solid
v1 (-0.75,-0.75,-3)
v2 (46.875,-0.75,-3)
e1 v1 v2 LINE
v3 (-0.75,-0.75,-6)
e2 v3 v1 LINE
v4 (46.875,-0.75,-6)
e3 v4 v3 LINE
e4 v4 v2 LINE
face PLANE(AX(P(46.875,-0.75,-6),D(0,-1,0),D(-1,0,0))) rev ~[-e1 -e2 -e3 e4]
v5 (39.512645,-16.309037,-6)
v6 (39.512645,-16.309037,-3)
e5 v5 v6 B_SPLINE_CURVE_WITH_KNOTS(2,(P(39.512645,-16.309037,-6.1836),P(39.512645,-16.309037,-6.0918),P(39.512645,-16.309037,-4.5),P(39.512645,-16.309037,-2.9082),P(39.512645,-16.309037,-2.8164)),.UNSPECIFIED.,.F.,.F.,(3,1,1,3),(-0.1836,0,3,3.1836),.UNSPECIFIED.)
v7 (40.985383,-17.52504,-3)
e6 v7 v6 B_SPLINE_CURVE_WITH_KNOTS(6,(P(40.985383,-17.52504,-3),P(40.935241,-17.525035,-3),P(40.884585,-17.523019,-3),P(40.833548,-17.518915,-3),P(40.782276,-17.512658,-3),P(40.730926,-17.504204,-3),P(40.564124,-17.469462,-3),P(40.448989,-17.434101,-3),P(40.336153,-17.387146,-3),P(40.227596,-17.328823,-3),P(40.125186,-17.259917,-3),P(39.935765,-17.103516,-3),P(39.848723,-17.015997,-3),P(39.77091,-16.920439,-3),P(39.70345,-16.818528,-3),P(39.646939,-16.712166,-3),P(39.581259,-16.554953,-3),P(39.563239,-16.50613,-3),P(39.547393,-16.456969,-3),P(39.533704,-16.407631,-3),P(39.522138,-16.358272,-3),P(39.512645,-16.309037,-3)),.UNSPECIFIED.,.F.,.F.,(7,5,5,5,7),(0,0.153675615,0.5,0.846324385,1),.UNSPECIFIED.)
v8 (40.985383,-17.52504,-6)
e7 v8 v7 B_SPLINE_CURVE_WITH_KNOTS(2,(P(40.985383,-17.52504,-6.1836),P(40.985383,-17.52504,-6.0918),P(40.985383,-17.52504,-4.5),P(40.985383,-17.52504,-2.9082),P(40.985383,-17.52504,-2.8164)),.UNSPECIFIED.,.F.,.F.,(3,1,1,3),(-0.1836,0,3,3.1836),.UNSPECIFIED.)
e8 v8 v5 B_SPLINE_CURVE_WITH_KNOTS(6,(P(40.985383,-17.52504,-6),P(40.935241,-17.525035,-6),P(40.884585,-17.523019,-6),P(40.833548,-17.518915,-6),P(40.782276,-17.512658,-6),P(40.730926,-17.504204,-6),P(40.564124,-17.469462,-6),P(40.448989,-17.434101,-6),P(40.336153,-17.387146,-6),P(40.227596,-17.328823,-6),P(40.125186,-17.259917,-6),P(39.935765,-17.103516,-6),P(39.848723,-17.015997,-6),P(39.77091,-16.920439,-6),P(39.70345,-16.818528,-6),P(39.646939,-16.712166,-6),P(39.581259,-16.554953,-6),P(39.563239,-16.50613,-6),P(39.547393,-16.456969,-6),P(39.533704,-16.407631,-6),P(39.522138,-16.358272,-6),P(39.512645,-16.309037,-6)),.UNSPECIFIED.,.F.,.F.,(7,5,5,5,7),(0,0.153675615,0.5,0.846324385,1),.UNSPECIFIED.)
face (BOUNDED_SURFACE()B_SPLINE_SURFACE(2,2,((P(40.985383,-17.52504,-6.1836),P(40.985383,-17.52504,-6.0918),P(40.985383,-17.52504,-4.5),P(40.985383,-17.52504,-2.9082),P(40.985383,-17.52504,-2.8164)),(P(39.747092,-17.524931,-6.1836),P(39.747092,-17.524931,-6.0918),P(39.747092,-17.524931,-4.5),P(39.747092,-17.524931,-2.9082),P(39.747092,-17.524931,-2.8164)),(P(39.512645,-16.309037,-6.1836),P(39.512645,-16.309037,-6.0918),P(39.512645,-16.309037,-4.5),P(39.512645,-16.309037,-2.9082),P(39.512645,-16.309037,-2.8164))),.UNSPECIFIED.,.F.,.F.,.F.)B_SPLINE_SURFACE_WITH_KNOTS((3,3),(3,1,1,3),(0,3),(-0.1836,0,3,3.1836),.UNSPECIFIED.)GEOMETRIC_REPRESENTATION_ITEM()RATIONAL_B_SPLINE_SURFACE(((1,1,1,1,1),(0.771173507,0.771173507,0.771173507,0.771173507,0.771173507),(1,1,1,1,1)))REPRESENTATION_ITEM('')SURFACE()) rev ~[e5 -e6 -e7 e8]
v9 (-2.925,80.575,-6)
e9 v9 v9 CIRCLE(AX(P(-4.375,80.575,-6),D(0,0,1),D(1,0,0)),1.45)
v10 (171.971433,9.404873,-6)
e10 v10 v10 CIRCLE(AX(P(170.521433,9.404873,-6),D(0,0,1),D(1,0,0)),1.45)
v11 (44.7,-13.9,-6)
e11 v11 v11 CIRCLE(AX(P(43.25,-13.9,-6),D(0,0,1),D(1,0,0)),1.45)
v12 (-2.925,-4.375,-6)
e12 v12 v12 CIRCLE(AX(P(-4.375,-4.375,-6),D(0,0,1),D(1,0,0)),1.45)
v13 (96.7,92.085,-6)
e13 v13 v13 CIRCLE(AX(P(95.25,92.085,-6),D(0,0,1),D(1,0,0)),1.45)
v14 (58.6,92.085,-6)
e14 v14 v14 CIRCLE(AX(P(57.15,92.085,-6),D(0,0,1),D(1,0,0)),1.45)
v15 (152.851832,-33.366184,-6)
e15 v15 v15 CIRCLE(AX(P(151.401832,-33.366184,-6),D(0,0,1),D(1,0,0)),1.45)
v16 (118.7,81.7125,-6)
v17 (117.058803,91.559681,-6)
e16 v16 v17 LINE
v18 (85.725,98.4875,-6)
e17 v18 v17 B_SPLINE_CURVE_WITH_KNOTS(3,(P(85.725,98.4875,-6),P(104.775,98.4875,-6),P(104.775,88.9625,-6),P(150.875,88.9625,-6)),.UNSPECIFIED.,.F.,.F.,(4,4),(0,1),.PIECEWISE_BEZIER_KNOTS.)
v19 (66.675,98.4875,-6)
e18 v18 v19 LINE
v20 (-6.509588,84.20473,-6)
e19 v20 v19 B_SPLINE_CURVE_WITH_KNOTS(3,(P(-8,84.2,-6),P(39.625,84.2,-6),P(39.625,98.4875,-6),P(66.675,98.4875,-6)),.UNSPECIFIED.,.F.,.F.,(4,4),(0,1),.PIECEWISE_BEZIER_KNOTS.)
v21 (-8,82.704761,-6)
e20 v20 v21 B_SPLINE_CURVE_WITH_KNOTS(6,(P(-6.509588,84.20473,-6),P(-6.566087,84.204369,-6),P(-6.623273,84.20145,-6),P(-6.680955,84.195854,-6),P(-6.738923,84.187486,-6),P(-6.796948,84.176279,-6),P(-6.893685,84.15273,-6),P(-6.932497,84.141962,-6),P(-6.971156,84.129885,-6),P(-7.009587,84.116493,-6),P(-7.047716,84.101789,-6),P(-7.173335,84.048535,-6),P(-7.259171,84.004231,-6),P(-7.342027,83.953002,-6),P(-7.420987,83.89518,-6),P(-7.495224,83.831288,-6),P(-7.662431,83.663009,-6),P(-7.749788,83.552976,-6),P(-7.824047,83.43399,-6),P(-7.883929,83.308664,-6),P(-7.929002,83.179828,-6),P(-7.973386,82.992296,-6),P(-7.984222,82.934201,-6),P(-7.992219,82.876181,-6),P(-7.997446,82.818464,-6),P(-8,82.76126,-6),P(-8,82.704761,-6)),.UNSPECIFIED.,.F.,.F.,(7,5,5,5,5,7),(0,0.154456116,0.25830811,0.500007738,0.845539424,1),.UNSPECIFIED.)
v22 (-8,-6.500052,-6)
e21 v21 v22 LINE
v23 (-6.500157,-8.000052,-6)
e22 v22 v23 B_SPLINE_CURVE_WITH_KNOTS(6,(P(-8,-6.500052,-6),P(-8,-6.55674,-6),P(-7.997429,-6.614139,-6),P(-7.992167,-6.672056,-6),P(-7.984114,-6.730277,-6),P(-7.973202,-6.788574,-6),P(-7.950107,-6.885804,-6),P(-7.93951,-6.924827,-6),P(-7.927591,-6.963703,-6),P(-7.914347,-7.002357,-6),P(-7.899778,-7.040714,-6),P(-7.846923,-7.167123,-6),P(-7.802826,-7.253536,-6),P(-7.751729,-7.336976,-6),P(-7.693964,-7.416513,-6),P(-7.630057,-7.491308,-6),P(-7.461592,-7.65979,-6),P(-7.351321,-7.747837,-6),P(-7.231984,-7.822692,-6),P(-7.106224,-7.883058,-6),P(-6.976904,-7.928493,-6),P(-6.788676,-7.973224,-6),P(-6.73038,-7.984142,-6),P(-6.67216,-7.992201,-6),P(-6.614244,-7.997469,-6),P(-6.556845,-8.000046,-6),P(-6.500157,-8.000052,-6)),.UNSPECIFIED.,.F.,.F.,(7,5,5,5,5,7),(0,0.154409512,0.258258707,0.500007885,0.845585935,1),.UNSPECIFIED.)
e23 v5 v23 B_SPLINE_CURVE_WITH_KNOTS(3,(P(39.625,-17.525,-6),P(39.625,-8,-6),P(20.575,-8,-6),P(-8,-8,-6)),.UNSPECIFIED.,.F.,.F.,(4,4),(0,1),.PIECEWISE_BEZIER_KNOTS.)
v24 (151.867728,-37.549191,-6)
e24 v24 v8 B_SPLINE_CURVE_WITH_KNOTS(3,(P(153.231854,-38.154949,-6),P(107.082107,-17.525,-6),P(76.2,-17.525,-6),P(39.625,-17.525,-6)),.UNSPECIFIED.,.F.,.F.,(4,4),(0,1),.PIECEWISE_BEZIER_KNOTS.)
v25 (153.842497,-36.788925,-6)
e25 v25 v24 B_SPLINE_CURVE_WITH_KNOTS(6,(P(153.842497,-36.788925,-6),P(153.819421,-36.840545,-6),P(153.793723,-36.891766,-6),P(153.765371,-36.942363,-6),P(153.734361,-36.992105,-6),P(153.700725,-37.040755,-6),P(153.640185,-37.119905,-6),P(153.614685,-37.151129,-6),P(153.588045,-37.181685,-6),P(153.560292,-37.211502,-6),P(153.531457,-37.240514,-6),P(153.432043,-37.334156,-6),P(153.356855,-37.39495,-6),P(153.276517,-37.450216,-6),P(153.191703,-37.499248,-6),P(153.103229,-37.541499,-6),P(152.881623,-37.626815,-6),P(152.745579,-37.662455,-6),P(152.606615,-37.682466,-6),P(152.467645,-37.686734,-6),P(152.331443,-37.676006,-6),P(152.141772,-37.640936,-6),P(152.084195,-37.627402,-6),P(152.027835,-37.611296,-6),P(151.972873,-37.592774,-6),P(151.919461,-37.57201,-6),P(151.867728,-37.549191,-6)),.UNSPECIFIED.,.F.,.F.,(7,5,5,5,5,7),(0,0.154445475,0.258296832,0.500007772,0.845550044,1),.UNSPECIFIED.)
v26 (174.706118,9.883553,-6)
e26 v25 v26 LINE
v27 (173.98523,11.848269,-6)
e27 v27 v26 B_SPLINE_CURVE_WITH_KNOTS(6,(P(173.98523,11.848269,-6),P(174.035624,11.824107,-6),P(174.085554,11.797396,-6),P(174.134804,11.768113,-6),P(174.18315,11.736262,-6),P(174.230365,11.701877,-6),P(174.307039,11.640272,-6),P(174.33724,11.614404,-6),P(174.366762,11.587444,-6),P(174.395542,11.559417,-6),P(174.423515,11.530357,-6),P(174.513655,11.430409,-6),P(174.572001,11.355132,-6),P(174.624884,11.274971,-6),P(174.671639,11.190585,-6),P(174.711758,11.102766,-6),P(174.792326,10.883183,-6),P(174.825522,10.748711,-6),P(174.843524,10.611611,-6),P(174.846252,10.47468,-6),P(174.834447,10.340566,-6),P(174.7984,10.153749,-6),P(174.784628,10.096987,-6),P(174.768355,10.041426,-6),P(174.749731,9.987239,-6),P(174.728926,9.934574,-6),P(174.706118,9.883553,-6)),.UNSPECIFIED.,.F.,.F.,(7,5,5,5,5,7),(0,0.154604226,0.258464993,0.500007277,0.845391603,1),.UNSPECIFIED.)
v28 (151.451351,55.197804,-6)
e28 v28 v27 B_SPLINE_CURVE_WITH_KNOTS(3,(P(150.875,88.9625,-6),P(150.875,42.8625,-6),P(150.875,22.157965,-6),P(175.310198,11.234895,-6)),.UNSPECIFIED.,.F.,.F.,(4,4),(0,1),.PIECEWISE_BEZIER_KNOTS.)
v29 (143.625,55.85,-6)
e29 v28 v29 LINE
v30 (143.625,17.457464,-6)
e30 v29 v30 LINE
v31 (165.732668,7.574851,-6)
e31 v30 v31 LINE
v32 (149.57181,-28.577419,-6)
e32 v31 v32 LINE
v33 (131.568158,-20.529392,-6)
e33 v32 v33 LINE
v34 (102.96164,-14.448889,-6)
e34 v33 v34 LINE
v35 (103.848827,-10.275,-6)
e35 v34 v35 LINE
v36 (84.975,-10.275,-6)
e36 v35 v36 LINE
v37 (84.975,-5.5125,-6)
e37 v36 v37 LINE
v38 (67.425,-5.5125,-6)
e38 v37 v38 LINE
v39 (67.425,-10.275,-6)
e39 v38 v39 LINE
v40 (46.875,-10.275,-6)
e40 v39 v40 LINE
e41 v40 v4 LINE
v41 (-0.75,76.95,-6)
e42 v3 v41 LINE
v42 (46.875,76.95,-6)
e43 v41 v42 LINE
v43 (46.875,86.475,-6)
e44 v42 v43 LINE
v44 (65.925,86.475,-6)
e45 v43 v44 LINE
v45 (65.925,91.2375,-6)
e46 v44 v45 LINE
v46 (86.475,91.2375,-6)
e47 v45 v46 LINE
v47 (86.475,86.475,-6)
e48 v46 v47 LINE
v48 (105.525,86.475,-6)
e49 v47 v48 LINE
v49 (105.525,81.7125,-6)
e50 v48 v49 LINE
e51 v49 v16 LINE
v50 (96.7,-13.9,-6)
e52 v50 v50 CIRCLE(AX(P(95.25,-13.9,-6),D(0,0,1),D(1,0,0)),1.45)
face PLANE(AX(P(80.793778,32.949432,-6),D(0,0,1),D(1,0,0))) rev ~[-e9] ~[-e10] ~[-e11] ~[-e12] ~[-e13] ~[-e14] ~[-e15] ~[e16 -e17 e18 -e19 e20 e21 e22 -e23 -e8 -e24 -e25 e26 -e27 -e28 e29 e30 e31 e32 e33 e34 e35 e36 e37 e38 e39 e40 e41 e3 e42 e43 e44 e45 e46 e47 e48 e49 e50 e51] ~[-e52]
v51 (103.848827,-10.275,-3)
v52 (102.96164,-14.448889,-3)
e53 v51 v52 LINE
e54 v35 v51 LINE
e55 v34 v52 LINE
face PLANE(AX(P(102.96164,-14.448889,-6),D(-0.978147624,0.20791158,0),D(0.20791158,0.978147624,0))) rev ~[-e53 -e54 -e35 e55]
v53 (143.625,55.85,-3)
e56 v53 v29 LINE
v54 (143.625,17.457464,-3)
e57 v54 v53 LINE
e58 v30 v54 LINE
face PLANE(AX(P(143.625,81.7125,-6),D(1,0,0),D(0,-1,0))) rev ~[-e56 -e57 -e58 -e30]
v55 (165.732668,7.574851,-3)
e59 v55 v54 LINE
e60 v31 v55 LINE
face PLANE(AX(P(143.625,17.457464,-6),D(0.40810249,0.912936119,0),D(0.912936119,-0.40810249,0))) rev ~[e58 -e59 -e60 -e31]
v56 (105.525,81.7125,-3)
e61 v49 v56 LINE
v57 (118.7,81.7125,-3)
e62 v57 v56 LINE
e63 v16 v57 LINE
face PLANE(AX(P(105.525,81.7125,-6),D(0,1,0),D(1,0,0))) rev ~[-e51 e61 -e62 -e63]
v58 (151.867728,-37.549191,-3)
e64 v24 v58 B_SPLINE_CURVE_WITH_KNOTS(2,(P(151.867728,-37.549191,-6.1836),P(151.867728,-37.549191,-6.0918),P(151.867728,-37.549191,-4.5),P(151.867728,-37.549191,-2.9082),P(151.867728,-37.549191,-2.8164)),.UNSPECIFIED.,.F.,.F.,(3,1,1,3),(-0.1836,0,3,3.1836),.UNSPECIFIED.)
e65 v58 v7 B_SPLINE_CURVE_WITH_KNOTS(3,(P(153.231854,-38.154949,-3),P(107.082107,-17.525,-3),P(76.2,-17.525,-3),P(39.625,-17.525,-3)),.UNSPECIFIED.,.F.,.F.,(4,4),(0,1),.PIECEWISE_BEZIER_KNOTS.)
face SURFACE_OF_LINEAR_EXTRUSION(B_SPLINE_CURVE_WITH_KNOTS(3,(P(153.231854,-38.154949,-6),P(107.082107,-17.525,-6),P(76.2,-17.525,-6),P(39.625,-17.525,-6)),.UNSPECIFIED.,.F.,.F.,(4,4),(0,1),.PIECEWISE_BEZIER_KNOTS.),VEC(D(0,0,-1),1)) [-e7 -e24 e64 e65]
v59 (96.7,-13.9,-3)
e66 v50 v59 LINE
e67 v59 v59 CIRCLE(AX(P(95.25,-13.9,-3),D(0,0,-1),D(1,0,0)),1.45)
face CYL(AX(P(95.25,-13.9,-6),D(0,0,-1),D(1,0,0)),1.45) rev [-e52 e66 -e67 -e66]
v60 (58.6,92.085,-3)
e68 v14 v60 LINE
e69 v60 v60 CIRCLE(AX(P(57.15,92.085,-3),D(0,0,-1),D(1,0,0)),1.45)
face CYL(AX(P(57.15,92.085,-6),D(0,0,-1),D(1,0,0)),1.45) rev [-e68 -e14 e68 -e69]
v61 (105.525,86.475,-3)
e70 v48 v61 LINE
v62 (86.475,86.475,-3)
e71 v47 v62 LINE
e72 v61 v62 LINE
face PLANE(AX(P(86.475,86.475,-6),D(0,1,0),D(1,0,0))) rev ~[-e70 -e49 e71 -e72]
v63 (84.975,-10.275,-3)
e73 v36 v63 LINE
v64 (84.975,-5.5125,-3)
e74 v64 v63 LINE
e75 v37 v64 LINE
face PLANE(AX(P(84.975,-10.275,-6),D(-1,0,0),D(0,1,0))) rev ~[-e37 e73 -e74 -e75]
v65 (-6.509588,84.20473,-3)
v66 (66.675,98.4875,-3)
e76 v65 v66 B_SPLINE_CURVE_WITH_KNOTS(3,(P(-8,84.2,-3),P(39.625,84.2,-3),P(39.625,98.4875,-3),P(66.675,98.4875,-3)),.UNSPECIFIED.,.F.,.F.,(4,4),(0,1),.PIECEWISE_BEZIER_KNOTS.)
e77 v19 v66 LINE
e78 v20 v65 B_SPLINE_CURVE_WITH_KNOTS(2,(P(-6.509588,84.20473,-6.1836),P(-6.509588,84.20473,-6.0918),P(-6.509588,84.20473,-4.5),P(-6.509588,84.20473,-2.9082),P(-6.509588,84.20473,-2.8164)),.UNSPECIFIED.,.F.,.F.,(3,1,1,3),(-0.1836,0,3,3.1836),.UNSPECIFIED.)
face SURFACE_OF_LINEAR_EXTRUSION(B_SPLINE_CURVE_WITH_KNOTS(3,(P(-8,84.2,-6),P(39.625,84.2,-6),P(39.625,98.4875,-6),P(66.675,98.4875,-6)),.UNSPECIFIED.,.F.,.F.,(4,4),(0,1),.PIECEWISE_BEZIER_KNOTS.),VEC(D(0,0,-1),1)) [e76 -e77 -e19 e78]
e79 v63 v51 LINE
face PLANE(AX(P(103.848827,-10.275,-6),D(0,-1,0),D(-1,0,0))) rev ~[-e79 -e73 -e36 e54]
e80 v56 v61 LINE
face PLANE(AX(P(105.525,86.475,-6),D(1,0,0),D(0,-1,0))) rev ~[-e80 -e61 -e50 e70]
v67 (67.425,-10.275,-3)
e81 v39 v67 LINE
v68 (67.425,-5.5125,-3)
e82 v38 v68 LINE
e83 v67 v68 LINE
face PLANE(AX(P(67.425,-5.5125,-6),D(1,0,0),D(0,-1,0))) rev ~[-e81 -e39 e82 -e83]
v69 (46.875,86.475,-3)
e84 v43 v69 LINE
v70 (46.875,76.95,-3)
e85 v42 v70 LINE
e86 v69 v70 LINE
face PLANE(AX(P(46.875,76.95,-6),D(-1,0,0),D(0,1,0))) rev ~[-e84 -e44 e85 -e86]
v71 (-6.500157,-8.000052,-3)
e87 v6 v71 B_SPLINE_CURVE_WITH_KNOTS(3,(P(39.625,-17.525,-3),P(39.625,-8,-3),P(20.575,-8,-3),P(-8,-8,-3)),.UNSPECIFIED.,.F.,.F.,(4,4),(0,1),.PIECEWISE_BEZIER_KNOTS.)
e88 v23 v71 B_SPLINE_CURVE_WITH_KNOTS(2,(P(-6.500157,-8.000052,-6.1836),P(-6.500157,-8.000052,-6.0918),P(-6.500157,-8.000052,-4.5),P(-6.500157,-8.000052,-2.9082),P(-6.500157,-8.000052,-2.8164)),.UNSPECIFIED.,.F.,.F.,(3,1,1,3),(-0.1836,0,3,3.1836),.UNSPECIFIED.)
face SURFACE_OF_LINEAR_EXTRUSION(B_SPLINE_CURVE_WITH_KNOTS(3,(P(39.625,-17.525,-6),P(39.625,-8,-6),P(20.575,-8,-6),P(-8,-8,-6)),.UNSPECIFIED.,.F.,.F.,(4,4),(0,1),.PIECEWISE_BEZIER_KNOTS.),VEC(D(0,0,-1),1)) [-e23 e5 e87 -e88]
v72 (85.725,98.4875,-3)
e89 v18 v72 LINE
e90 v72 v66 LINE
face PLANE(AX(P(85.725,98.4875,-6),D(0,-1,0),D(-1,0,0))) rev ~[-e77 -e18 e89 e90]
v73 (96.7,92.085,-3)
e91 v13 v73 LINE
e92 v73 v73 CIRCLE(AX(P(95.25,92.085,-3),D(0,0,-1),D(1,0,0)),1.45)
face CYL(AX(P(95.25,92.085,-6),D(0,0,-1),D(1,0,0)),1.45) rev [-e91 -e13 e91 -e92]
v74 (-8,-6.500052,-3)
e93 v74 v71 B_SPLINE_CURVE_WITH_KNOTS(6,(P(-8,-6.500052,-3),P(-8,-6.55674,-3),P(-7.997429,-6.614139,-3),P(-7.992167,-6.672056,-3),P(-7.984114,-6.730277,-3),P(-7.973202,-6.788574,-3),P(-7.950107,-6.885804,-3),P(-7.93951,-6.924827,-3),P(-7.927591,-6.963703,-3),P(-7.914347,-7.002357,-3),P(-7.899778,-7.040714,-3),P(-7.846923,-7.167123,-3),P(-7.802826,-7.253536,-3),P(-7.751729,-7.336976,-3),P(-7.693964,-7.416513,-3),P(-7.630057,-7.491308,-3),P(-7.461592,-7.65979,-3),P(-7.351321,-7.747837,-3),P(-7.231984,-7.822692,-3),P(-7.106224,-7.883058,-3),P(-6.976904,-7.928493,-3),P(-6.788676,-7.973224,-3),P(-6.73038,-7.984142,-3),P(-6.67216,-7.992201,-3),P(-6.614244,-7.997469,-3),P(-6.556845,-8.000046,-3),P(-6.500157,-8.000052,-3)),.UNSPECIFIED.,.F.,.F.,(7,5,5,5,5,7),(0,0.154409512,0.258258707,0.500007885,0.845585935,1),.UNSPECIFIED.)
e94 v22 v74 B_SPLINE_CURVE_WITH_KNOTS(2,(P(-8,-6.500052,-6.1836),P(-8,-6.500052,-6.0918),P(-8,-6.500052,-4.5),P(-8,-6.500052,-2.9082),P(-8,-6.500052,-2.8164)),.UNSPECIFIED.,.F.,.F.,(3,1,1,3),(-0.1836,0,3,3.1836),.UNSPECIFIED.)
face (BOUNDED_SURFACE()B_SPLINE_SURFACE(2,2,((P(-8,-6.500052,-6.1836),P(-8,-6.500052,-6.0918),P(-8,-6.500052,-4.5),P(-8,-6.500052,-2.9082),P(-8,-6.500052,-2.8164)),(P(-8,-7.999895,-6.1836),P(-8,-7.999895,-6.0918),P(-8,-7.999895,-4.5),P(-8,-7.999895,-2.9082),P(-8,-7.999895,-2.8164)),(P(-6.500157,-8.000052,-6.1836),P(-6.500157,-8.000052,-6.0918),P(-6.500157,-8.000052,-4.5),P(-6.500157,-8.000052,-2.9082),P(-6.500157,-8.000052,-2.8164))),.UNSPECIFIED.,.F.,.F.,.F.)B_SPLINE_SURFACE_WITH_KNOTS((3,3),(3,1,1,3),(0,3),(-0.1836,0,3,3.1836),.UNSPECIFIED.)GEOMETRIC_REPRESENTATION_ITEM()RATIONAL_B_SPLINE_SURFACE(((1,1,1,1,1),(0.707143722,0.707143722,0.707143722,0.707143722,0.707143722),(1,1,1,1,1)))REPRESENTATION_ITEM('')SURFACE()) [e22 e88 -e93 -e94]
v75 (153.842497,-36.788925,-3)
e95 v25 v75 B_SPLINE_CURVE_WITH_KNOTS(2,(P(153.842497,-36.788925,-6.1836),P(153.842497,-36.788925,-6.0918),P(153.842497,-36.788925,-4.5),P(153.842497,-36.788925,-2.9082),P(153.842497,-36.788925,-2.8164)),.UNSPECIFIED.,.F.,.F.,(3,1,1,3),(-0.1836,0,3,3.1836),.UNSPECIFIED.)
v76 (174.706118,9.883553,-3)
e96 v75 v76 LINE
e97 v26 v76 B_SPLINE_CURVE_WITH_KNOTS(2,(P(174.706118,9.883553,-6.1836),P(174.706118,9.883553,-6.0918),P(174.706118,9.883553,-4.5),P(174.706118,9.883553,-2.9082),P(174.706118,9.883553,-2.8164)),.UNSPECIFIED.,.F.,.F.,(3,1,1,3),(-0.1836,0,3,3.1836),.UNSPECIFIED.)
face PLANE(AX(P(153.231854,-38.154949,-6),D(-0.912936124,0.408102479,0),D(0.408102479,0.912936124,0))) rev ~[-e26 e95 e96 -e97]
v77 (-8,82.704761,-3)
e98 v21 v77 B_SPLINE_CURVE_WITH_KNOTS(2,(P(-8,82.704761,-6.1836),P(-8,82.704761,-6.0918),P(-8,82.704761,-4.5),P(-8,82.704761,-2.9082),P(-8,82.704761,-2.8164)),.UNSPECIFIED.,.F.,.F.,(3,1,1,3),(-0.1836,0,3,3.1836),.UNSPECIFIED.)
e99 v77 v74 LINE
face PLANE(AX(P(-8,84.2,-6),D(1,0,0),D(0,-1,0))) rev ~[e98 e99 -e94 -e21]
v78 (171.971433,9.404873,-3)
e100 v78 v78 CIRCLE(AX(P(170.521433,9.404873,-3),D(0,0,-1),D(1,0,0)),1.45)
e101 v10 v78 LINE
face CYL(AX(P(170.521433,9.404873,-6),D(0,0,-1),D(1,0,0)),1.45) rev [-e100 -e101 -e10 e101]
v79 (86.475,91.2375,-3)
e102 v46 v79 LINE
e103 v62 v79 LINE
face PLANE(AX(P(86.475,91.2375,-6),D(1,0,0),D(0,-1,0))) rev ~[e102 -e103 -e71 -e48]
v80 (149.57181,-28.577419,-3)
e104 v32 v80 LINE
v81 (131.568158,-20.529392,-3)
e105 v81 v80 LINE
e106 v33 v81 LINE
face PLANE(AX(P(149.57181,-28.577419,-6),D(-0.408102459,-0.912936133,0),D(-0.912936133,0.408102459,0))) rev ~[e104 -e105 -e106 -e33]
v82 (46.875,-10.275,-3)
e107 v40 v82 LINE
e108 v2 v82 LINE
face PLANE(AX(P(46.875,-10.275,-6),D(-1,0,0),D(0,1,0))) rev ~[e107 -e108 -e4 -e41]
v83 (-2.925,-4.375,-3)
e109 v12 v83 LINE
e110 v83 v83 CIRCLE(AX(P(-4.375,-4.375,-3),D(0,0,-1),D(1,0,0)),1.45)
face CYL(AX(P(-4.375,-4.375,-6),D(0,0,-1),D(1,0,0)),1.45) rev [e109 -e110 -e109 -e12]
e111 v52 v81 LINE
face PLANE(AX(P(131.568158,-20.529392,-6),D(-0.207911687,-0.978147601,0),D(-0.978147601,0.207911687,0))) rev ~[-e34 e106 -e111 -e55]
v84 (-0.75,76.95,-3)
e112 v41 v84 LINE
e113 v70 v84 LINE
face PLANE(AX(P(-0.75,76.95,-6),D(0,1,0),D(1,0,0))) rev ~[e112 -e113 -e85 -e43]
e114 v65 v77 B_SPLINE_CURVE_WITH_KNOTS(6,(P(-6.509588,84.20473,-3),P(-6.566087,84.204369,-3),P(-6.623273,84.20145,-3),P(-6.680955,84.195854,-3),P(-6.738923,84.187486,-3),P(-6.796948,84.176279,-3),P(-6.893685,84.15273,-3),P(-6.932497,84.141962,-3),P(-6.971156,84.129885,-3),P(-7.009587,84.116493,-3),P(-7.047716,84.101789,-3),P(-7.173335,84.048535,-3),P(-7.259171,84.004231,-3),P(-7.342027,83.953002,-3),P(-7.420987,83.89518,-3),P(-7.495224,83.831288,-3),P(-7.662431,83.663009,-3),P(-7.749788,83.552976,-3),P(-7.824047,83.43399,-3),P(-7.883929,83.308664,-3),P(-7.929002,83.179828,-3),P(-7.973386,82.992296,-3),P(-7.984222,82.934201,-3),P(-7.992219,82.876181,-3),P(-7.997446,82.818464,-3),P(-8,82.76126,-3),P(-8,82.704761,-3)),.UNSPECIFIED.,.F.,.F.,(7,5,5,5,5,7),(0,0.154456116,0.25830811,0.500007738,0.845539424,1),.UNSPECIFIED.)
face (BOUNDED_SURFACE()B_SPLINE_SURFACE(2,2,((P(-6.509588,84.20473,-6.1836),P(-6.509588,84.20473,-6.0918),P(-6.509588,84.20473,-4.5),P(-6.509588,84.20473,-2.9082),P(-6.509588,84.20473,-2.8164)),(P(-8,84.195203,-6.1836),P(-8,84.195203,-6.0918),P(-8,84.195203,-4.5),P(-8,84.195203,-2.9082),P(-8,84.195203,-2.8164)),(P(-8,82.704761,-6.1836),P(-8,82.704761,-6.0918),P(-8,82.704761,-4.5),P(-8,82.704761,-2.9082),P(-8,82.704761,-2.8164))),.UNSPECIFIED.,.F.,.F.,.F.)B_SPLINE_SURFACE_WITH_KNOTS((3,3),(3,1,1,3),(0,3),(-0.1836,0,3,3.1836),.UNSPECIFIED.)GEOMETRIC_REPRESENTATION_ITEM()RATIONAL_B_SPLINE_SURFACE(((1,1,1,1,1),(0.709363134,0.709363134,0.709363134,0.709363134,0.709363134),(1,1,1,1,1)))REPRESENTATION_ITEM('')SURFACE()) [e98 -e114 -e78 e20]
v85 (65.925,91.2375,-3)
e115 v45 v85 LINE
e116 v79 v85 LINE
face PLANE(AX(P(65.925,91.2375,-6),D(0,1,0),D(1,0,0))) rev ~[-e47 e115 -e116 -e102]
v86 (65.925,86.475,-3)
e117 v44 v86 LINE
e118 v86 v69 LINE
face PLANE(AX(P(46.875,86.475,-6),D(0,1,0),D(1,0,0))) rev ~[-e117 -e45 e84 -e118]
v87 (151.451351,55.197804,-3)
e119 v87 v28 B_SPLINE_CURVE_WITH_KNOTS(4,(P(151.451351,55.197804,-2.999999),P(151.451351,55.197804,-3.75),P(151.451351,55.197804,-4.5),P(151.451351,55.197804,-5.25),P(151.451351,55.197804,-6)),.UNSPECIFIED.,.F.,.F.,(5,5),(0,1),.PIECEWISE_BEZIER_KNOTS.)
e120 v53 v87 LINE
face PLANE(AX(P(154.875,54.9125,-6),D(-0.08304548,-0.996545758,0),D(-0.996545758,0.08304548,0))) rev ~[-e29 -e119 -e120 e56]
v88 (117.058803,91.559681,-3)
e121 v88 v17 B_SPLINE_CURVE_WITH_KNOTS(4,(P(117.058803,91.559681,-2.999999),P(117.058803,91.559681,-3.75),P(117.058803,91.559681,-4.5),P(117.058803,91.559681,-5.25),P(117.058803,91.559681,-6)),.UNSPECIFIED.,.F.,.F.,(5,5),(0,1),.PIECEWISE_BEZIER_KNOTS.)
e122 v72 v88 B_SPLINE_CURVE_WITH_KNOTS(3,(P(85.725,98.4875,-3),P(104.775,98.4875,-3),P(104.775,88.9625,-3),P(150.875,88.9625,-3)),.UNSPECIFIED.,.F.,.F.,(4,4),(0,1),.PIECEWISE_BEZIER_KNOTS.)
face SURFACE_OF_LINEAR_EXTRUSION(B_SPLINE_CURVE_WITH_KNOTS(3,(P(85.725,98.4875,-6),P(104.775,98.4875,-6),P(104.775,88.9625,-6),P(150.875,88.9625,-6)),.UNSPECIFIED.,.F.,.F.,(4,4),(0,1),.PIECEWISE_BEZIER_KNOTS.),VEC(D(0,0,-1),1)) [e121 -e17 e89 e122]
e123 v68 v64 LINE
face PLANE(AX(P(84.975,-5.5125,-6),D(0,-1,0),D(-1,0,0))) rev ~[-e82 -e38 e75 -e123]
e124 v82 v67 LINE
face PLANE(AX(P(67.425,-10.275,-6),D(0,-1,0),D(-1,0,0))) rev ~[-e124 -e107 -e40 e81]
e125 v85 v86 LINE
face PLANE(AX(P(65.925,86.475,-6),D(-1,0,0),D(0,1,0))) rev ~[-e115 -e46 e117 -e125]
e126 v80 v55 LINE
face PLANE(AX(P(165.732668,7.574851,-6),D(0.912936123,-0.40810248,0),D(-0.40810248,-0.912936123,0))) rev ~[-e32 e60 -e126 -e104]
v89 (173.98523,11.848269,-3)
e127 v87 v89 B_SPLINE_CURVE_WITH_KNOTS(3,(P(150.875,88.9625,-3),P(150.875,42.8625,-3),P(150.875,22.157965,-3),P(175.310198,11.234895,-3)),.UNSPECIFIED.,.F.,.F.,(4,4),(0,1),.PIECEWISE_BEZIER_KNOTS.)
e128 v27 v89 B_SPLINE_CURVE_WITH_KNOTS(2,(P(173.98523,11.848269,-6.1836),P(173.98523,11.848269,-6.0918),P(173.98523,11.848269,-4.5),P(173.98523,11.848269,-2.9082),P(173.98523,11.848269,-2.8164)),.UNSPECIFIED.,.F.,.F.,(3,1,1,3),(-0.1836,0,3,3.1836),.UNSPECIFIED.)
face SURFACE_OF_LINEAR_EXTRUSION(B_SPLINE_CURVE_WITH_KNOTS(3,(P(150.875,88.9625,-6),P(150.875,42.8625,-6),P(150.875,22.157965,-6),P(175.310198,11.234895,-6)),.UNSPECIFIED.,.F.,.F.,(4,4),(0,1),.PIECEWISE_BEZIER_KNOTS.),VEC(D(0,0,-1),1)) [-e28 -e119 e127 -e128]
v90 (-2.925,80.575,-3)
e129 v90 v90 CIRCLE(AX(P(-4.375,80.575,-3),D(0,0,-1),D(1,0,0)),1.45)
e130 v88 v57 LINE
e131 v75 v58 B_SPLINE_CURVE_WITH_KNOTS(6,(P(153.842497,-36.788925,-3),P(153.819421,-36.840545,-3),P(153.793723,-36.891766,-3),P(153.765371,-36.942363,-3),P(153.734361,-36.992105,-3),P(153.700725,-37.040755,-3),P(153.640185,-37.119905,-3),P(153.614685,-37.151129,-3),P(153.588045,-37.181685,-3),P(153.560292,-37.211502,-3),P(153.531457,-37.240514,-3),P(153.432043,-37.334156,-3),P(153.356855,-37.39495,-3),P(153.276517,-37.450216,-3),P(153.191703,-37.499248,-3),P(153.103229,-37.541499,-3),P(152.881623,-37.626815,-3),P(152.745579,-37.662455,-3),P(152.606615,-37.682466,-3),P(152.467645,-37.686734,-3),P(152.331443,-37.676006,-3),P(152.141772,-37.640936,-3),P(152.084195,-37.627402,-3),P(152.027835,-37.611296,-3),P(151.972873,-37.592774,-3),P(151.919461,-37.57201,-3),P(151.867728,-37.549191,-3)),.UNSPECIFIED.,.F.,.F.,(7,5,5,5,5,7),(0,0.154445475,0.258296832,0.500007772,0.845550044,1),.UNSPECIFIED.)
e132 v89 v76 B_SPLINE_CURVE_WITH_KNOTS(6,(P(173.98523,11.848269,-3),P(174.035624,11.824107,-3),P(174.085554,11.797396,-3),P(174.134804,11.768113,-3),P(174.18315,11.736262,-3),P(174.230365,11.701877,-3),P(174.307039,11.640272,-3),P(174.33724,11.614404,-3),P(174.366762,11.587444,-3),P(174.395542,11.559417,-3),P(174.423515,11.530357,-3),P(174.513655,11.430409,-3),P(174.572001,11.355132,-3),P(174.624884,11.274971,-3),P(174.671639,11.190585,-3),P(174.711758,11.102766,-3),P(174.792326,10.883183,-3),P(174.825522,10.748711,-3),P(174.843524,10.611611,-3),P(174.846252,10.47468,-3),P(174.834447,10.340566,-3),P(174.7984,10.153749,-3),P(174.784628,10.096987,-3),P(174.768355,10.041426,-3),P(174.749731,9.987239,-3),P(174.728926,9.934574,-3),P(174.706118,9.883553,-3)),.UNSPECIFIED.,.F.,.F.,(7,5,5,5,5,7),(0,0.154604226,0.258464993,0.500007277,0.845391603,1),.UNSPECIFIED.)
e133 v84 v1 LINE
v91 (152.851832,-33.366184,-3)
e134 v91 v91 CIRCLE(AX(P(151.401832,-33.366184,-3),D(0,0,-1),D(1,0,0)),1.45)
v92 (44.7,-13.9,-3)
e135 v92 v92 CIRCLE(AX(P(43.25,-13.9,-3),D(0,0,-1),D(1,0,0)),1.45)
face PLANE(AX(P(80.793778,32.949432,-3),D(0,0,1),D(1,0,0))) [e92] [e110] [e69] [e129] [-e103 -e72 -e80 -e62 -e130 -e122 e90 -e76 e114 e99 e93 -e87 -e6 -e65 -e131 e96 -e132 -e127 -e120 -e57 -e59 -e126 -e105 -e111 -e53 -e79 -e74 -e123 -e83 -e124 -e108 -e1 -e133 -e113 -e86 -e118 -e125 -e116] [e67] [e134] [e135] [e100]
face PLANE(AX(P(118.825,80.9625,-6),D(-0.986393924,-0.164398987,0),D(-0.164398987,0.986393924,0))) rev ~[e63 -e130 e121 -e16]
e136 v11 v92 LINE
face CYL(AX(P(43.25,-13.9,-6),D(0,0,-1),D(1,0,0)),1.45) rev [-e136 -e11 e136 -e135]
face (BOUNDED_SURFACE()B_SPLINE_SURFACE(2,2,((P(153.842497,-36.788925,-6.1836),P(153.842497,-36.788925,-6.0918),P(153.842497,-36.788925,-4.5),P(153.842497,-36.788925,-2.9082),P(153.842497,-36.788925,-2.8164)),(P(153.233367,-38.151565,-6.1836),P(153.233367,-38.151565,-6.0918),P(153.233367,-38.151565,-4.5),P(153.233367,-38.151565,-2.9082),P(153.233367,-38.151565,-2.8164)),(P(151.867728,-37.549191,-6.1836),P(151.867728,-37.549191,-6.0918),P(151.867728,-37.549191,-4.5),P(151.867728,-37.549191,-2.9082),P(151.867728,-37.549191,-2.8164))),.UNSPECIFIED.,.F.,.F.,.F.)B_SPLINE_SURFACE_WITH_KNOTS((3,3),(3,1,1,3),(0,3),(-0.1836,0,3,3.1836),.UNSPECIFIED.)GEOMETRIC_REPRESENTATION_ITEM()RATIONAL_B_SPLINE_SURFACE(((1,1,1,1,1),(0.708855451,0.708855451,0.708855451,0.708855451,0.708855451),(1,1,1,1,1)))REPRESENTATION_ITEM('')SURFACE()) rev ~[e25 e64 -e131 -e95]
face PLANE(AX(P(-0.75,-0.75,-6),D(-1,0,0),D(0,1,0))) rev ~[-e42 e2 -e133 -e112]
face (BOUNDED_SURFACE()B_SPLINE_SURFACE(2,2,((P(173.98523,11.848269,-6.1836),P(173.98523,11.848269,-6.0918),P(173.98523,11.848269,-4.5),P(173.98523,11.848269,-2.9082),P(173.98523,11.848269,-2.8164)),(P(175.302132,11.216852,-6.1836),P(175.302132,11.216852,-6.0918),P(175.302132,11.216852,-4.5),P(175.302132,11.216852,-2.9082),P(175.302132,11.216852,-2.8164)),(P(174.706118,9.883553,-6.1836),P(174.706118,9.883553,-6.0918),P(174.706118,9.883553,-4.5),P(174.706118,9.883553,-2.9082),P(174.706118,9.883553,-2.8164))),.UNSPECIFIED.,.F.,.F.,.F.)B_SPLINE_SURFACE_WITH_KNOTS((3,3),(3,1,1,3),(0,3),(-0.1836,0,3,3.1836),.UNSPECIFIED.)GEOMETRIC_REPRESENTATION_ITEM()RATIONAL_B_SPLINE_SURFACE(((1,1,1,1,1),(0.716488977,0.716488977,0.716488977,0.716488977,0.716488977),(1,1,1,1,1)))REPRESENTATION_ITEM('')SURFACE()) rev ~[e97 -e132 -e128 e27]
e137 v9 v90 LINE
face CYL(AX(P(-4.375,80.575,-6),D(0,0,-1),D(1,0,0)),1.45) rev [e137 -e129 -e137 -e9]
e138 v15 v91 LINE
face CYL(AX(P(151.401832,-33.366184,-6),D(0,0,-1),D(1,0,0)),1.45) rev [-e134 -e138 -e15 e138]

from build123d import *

# Parameters (mm, degrees)
PAD006_DEPTH    = 3
POCKET009_DEPTH = 5
SKETCH041_R     = 1.45
POCKET019_DEPTH = 16
POCKET025_DEPTH = 17
FILLET004_R     = 1.5


with BuildPart() as part:
    # Sketch026 → Pad006 (new body)
    with BuildSketch(Plane.XY):
        with BuildLine():
            Line((85.725, 98.4875), (66.675, 98.4875))
            add(Edge.make_bspline(
                [(-8, 84.2), (39.625, 84.2), (39.625, 98.4875), (66.675, 98.4875)],
                knots=[0, 0, 0, 0, 1, 1, 1, 1], degree=3))
            Line((-8, 84.2), (-8, -8))
            add(Edge.make_bspline(
                [(39.625, -17.525), (39.625, -8), (20.575, -8), (-8, -8)],
                knots=[0, 0, 0, 0, 1, 1, 1, 1], degree=3))
            add(Edge.make_bspline(
                [(153.231854, -38.154949), (107.082107, -17.525), (76.2, -17.525), (39.625, -17.525)],
                knots=[0, 0, 0, 0, 1, 1, 1, 1], degree=3))
            Line((153.231854, -38.154949), (175.310198, 11.234895))
            add(Edge.make_bspline(
                [(150.875, 88.9625), (150.875, 42.8625), (150.875, 22.157965), (175.310198, 11.234895)],
                knots=[0, 0, 0, 0, 1, 1, 1, 1], degree=3))
            add(Edge.make_bspline(
                [(85.725, 98.4875), (104.775, 98.4875), (104.775, 88.9625), (150.875, 88.9625)],
                knots=[0, 0, 0, 0, 1, 1, 1, 1], degree=3))
        make_face()
    extrude(amount=PAD006_DEPTH)

    # Sketch027 → Pocket009 (cut)
    with BuildSketch(Plane(origin=(0, 0, 0), x_dir=(1, 0, 0), z_dir=(0, 0, -1))):
        Polygon((-0.75, 0.75), (-0.75, -76.95), (46.875, -76.95), (46.875, -86.475), (65.925, -86.475), (65.925, -91.2375), (86.475, -91.2375), (86.475, -86.475), (105.525, -86.475), (105.525, -81.7125), (143.625, -81.7125), (143.625, -17.457464), (165.732668, -7.574851), (149.57181, 28.577419), (131.568158, 20.529392), (102.96164, 14.448889), (103.848827, 10.275), (84.975, 10.275), (84.975, 5.5125), (67.425, 5.5125), (67.425, 10.275), (46.875, 10.275), (46.875, 0.75), align=None)
    extrude(amount=-POCKET009_DEPTH, mode=Mode.SUBTRACT)

    # Sketch041 → Pocket019 (cut)
    with BuildSketch(Plane.XY):
        with Locations((-4.375, -4.375)):
            Circle(SKETCH041_R)
        with Locations((-4.375, 80.575)):
            Circle(SKETCH041_R)
        with Locations((151.401832, -33.366184)):
            Circle(SKETCH041_R)
        with Locations((170.521433, 9.404873)):
            Circle(SKETCH041_R)
        with Locations((147.25, 85.3375)):
            Circle(SKETCH041_R)
        with Locations((43.25, -13.9)):
            Circle(SKETCH041_R)
        with Locations((57.15, 92.085)):
            Circle(SKETCH041_R)
        with Locations((95.25, 92.085)):
            Circle(SKETCH041_R)
        with Locations((95.25, -13.9)):
            Circle(SKETCH041_R)
    extrude(amount=POCKET019_DEPTH, mode=Mode.SUBTRACT)

    # Sketch053 → Pocket025 (cut)
    with BuildSketch(Plane.XY):
        Polygon((118.825, 80.9625), (116.825, 92.9625), (166.907578, 98.346489), (154.875, 54.9125), (142.875, 55.9125), align=None)
    extrude(amount=POCKET025_DEPTH, mode=Mode.SUBTRACT)

    # Fillet004
    fillet004_edges = [part.edges().sort_by_distance(p)[0] for p in [
        (-8, 84.2, 1.5),
        (-8, -8, 1.5),
        (39.625, -17.525, 1.5),
        (153.231854, -38.154949, 1.5),
        (175.310198, 11.234895, 1.5),
    ]]
    fillet(fillet004_edges, radius=FILLET004_R)


with BuildPart() as part_1:
    # Body005 placement: moved
    add(part.part.moved(Location((0, 0, -6))))


solid = part_1.part
